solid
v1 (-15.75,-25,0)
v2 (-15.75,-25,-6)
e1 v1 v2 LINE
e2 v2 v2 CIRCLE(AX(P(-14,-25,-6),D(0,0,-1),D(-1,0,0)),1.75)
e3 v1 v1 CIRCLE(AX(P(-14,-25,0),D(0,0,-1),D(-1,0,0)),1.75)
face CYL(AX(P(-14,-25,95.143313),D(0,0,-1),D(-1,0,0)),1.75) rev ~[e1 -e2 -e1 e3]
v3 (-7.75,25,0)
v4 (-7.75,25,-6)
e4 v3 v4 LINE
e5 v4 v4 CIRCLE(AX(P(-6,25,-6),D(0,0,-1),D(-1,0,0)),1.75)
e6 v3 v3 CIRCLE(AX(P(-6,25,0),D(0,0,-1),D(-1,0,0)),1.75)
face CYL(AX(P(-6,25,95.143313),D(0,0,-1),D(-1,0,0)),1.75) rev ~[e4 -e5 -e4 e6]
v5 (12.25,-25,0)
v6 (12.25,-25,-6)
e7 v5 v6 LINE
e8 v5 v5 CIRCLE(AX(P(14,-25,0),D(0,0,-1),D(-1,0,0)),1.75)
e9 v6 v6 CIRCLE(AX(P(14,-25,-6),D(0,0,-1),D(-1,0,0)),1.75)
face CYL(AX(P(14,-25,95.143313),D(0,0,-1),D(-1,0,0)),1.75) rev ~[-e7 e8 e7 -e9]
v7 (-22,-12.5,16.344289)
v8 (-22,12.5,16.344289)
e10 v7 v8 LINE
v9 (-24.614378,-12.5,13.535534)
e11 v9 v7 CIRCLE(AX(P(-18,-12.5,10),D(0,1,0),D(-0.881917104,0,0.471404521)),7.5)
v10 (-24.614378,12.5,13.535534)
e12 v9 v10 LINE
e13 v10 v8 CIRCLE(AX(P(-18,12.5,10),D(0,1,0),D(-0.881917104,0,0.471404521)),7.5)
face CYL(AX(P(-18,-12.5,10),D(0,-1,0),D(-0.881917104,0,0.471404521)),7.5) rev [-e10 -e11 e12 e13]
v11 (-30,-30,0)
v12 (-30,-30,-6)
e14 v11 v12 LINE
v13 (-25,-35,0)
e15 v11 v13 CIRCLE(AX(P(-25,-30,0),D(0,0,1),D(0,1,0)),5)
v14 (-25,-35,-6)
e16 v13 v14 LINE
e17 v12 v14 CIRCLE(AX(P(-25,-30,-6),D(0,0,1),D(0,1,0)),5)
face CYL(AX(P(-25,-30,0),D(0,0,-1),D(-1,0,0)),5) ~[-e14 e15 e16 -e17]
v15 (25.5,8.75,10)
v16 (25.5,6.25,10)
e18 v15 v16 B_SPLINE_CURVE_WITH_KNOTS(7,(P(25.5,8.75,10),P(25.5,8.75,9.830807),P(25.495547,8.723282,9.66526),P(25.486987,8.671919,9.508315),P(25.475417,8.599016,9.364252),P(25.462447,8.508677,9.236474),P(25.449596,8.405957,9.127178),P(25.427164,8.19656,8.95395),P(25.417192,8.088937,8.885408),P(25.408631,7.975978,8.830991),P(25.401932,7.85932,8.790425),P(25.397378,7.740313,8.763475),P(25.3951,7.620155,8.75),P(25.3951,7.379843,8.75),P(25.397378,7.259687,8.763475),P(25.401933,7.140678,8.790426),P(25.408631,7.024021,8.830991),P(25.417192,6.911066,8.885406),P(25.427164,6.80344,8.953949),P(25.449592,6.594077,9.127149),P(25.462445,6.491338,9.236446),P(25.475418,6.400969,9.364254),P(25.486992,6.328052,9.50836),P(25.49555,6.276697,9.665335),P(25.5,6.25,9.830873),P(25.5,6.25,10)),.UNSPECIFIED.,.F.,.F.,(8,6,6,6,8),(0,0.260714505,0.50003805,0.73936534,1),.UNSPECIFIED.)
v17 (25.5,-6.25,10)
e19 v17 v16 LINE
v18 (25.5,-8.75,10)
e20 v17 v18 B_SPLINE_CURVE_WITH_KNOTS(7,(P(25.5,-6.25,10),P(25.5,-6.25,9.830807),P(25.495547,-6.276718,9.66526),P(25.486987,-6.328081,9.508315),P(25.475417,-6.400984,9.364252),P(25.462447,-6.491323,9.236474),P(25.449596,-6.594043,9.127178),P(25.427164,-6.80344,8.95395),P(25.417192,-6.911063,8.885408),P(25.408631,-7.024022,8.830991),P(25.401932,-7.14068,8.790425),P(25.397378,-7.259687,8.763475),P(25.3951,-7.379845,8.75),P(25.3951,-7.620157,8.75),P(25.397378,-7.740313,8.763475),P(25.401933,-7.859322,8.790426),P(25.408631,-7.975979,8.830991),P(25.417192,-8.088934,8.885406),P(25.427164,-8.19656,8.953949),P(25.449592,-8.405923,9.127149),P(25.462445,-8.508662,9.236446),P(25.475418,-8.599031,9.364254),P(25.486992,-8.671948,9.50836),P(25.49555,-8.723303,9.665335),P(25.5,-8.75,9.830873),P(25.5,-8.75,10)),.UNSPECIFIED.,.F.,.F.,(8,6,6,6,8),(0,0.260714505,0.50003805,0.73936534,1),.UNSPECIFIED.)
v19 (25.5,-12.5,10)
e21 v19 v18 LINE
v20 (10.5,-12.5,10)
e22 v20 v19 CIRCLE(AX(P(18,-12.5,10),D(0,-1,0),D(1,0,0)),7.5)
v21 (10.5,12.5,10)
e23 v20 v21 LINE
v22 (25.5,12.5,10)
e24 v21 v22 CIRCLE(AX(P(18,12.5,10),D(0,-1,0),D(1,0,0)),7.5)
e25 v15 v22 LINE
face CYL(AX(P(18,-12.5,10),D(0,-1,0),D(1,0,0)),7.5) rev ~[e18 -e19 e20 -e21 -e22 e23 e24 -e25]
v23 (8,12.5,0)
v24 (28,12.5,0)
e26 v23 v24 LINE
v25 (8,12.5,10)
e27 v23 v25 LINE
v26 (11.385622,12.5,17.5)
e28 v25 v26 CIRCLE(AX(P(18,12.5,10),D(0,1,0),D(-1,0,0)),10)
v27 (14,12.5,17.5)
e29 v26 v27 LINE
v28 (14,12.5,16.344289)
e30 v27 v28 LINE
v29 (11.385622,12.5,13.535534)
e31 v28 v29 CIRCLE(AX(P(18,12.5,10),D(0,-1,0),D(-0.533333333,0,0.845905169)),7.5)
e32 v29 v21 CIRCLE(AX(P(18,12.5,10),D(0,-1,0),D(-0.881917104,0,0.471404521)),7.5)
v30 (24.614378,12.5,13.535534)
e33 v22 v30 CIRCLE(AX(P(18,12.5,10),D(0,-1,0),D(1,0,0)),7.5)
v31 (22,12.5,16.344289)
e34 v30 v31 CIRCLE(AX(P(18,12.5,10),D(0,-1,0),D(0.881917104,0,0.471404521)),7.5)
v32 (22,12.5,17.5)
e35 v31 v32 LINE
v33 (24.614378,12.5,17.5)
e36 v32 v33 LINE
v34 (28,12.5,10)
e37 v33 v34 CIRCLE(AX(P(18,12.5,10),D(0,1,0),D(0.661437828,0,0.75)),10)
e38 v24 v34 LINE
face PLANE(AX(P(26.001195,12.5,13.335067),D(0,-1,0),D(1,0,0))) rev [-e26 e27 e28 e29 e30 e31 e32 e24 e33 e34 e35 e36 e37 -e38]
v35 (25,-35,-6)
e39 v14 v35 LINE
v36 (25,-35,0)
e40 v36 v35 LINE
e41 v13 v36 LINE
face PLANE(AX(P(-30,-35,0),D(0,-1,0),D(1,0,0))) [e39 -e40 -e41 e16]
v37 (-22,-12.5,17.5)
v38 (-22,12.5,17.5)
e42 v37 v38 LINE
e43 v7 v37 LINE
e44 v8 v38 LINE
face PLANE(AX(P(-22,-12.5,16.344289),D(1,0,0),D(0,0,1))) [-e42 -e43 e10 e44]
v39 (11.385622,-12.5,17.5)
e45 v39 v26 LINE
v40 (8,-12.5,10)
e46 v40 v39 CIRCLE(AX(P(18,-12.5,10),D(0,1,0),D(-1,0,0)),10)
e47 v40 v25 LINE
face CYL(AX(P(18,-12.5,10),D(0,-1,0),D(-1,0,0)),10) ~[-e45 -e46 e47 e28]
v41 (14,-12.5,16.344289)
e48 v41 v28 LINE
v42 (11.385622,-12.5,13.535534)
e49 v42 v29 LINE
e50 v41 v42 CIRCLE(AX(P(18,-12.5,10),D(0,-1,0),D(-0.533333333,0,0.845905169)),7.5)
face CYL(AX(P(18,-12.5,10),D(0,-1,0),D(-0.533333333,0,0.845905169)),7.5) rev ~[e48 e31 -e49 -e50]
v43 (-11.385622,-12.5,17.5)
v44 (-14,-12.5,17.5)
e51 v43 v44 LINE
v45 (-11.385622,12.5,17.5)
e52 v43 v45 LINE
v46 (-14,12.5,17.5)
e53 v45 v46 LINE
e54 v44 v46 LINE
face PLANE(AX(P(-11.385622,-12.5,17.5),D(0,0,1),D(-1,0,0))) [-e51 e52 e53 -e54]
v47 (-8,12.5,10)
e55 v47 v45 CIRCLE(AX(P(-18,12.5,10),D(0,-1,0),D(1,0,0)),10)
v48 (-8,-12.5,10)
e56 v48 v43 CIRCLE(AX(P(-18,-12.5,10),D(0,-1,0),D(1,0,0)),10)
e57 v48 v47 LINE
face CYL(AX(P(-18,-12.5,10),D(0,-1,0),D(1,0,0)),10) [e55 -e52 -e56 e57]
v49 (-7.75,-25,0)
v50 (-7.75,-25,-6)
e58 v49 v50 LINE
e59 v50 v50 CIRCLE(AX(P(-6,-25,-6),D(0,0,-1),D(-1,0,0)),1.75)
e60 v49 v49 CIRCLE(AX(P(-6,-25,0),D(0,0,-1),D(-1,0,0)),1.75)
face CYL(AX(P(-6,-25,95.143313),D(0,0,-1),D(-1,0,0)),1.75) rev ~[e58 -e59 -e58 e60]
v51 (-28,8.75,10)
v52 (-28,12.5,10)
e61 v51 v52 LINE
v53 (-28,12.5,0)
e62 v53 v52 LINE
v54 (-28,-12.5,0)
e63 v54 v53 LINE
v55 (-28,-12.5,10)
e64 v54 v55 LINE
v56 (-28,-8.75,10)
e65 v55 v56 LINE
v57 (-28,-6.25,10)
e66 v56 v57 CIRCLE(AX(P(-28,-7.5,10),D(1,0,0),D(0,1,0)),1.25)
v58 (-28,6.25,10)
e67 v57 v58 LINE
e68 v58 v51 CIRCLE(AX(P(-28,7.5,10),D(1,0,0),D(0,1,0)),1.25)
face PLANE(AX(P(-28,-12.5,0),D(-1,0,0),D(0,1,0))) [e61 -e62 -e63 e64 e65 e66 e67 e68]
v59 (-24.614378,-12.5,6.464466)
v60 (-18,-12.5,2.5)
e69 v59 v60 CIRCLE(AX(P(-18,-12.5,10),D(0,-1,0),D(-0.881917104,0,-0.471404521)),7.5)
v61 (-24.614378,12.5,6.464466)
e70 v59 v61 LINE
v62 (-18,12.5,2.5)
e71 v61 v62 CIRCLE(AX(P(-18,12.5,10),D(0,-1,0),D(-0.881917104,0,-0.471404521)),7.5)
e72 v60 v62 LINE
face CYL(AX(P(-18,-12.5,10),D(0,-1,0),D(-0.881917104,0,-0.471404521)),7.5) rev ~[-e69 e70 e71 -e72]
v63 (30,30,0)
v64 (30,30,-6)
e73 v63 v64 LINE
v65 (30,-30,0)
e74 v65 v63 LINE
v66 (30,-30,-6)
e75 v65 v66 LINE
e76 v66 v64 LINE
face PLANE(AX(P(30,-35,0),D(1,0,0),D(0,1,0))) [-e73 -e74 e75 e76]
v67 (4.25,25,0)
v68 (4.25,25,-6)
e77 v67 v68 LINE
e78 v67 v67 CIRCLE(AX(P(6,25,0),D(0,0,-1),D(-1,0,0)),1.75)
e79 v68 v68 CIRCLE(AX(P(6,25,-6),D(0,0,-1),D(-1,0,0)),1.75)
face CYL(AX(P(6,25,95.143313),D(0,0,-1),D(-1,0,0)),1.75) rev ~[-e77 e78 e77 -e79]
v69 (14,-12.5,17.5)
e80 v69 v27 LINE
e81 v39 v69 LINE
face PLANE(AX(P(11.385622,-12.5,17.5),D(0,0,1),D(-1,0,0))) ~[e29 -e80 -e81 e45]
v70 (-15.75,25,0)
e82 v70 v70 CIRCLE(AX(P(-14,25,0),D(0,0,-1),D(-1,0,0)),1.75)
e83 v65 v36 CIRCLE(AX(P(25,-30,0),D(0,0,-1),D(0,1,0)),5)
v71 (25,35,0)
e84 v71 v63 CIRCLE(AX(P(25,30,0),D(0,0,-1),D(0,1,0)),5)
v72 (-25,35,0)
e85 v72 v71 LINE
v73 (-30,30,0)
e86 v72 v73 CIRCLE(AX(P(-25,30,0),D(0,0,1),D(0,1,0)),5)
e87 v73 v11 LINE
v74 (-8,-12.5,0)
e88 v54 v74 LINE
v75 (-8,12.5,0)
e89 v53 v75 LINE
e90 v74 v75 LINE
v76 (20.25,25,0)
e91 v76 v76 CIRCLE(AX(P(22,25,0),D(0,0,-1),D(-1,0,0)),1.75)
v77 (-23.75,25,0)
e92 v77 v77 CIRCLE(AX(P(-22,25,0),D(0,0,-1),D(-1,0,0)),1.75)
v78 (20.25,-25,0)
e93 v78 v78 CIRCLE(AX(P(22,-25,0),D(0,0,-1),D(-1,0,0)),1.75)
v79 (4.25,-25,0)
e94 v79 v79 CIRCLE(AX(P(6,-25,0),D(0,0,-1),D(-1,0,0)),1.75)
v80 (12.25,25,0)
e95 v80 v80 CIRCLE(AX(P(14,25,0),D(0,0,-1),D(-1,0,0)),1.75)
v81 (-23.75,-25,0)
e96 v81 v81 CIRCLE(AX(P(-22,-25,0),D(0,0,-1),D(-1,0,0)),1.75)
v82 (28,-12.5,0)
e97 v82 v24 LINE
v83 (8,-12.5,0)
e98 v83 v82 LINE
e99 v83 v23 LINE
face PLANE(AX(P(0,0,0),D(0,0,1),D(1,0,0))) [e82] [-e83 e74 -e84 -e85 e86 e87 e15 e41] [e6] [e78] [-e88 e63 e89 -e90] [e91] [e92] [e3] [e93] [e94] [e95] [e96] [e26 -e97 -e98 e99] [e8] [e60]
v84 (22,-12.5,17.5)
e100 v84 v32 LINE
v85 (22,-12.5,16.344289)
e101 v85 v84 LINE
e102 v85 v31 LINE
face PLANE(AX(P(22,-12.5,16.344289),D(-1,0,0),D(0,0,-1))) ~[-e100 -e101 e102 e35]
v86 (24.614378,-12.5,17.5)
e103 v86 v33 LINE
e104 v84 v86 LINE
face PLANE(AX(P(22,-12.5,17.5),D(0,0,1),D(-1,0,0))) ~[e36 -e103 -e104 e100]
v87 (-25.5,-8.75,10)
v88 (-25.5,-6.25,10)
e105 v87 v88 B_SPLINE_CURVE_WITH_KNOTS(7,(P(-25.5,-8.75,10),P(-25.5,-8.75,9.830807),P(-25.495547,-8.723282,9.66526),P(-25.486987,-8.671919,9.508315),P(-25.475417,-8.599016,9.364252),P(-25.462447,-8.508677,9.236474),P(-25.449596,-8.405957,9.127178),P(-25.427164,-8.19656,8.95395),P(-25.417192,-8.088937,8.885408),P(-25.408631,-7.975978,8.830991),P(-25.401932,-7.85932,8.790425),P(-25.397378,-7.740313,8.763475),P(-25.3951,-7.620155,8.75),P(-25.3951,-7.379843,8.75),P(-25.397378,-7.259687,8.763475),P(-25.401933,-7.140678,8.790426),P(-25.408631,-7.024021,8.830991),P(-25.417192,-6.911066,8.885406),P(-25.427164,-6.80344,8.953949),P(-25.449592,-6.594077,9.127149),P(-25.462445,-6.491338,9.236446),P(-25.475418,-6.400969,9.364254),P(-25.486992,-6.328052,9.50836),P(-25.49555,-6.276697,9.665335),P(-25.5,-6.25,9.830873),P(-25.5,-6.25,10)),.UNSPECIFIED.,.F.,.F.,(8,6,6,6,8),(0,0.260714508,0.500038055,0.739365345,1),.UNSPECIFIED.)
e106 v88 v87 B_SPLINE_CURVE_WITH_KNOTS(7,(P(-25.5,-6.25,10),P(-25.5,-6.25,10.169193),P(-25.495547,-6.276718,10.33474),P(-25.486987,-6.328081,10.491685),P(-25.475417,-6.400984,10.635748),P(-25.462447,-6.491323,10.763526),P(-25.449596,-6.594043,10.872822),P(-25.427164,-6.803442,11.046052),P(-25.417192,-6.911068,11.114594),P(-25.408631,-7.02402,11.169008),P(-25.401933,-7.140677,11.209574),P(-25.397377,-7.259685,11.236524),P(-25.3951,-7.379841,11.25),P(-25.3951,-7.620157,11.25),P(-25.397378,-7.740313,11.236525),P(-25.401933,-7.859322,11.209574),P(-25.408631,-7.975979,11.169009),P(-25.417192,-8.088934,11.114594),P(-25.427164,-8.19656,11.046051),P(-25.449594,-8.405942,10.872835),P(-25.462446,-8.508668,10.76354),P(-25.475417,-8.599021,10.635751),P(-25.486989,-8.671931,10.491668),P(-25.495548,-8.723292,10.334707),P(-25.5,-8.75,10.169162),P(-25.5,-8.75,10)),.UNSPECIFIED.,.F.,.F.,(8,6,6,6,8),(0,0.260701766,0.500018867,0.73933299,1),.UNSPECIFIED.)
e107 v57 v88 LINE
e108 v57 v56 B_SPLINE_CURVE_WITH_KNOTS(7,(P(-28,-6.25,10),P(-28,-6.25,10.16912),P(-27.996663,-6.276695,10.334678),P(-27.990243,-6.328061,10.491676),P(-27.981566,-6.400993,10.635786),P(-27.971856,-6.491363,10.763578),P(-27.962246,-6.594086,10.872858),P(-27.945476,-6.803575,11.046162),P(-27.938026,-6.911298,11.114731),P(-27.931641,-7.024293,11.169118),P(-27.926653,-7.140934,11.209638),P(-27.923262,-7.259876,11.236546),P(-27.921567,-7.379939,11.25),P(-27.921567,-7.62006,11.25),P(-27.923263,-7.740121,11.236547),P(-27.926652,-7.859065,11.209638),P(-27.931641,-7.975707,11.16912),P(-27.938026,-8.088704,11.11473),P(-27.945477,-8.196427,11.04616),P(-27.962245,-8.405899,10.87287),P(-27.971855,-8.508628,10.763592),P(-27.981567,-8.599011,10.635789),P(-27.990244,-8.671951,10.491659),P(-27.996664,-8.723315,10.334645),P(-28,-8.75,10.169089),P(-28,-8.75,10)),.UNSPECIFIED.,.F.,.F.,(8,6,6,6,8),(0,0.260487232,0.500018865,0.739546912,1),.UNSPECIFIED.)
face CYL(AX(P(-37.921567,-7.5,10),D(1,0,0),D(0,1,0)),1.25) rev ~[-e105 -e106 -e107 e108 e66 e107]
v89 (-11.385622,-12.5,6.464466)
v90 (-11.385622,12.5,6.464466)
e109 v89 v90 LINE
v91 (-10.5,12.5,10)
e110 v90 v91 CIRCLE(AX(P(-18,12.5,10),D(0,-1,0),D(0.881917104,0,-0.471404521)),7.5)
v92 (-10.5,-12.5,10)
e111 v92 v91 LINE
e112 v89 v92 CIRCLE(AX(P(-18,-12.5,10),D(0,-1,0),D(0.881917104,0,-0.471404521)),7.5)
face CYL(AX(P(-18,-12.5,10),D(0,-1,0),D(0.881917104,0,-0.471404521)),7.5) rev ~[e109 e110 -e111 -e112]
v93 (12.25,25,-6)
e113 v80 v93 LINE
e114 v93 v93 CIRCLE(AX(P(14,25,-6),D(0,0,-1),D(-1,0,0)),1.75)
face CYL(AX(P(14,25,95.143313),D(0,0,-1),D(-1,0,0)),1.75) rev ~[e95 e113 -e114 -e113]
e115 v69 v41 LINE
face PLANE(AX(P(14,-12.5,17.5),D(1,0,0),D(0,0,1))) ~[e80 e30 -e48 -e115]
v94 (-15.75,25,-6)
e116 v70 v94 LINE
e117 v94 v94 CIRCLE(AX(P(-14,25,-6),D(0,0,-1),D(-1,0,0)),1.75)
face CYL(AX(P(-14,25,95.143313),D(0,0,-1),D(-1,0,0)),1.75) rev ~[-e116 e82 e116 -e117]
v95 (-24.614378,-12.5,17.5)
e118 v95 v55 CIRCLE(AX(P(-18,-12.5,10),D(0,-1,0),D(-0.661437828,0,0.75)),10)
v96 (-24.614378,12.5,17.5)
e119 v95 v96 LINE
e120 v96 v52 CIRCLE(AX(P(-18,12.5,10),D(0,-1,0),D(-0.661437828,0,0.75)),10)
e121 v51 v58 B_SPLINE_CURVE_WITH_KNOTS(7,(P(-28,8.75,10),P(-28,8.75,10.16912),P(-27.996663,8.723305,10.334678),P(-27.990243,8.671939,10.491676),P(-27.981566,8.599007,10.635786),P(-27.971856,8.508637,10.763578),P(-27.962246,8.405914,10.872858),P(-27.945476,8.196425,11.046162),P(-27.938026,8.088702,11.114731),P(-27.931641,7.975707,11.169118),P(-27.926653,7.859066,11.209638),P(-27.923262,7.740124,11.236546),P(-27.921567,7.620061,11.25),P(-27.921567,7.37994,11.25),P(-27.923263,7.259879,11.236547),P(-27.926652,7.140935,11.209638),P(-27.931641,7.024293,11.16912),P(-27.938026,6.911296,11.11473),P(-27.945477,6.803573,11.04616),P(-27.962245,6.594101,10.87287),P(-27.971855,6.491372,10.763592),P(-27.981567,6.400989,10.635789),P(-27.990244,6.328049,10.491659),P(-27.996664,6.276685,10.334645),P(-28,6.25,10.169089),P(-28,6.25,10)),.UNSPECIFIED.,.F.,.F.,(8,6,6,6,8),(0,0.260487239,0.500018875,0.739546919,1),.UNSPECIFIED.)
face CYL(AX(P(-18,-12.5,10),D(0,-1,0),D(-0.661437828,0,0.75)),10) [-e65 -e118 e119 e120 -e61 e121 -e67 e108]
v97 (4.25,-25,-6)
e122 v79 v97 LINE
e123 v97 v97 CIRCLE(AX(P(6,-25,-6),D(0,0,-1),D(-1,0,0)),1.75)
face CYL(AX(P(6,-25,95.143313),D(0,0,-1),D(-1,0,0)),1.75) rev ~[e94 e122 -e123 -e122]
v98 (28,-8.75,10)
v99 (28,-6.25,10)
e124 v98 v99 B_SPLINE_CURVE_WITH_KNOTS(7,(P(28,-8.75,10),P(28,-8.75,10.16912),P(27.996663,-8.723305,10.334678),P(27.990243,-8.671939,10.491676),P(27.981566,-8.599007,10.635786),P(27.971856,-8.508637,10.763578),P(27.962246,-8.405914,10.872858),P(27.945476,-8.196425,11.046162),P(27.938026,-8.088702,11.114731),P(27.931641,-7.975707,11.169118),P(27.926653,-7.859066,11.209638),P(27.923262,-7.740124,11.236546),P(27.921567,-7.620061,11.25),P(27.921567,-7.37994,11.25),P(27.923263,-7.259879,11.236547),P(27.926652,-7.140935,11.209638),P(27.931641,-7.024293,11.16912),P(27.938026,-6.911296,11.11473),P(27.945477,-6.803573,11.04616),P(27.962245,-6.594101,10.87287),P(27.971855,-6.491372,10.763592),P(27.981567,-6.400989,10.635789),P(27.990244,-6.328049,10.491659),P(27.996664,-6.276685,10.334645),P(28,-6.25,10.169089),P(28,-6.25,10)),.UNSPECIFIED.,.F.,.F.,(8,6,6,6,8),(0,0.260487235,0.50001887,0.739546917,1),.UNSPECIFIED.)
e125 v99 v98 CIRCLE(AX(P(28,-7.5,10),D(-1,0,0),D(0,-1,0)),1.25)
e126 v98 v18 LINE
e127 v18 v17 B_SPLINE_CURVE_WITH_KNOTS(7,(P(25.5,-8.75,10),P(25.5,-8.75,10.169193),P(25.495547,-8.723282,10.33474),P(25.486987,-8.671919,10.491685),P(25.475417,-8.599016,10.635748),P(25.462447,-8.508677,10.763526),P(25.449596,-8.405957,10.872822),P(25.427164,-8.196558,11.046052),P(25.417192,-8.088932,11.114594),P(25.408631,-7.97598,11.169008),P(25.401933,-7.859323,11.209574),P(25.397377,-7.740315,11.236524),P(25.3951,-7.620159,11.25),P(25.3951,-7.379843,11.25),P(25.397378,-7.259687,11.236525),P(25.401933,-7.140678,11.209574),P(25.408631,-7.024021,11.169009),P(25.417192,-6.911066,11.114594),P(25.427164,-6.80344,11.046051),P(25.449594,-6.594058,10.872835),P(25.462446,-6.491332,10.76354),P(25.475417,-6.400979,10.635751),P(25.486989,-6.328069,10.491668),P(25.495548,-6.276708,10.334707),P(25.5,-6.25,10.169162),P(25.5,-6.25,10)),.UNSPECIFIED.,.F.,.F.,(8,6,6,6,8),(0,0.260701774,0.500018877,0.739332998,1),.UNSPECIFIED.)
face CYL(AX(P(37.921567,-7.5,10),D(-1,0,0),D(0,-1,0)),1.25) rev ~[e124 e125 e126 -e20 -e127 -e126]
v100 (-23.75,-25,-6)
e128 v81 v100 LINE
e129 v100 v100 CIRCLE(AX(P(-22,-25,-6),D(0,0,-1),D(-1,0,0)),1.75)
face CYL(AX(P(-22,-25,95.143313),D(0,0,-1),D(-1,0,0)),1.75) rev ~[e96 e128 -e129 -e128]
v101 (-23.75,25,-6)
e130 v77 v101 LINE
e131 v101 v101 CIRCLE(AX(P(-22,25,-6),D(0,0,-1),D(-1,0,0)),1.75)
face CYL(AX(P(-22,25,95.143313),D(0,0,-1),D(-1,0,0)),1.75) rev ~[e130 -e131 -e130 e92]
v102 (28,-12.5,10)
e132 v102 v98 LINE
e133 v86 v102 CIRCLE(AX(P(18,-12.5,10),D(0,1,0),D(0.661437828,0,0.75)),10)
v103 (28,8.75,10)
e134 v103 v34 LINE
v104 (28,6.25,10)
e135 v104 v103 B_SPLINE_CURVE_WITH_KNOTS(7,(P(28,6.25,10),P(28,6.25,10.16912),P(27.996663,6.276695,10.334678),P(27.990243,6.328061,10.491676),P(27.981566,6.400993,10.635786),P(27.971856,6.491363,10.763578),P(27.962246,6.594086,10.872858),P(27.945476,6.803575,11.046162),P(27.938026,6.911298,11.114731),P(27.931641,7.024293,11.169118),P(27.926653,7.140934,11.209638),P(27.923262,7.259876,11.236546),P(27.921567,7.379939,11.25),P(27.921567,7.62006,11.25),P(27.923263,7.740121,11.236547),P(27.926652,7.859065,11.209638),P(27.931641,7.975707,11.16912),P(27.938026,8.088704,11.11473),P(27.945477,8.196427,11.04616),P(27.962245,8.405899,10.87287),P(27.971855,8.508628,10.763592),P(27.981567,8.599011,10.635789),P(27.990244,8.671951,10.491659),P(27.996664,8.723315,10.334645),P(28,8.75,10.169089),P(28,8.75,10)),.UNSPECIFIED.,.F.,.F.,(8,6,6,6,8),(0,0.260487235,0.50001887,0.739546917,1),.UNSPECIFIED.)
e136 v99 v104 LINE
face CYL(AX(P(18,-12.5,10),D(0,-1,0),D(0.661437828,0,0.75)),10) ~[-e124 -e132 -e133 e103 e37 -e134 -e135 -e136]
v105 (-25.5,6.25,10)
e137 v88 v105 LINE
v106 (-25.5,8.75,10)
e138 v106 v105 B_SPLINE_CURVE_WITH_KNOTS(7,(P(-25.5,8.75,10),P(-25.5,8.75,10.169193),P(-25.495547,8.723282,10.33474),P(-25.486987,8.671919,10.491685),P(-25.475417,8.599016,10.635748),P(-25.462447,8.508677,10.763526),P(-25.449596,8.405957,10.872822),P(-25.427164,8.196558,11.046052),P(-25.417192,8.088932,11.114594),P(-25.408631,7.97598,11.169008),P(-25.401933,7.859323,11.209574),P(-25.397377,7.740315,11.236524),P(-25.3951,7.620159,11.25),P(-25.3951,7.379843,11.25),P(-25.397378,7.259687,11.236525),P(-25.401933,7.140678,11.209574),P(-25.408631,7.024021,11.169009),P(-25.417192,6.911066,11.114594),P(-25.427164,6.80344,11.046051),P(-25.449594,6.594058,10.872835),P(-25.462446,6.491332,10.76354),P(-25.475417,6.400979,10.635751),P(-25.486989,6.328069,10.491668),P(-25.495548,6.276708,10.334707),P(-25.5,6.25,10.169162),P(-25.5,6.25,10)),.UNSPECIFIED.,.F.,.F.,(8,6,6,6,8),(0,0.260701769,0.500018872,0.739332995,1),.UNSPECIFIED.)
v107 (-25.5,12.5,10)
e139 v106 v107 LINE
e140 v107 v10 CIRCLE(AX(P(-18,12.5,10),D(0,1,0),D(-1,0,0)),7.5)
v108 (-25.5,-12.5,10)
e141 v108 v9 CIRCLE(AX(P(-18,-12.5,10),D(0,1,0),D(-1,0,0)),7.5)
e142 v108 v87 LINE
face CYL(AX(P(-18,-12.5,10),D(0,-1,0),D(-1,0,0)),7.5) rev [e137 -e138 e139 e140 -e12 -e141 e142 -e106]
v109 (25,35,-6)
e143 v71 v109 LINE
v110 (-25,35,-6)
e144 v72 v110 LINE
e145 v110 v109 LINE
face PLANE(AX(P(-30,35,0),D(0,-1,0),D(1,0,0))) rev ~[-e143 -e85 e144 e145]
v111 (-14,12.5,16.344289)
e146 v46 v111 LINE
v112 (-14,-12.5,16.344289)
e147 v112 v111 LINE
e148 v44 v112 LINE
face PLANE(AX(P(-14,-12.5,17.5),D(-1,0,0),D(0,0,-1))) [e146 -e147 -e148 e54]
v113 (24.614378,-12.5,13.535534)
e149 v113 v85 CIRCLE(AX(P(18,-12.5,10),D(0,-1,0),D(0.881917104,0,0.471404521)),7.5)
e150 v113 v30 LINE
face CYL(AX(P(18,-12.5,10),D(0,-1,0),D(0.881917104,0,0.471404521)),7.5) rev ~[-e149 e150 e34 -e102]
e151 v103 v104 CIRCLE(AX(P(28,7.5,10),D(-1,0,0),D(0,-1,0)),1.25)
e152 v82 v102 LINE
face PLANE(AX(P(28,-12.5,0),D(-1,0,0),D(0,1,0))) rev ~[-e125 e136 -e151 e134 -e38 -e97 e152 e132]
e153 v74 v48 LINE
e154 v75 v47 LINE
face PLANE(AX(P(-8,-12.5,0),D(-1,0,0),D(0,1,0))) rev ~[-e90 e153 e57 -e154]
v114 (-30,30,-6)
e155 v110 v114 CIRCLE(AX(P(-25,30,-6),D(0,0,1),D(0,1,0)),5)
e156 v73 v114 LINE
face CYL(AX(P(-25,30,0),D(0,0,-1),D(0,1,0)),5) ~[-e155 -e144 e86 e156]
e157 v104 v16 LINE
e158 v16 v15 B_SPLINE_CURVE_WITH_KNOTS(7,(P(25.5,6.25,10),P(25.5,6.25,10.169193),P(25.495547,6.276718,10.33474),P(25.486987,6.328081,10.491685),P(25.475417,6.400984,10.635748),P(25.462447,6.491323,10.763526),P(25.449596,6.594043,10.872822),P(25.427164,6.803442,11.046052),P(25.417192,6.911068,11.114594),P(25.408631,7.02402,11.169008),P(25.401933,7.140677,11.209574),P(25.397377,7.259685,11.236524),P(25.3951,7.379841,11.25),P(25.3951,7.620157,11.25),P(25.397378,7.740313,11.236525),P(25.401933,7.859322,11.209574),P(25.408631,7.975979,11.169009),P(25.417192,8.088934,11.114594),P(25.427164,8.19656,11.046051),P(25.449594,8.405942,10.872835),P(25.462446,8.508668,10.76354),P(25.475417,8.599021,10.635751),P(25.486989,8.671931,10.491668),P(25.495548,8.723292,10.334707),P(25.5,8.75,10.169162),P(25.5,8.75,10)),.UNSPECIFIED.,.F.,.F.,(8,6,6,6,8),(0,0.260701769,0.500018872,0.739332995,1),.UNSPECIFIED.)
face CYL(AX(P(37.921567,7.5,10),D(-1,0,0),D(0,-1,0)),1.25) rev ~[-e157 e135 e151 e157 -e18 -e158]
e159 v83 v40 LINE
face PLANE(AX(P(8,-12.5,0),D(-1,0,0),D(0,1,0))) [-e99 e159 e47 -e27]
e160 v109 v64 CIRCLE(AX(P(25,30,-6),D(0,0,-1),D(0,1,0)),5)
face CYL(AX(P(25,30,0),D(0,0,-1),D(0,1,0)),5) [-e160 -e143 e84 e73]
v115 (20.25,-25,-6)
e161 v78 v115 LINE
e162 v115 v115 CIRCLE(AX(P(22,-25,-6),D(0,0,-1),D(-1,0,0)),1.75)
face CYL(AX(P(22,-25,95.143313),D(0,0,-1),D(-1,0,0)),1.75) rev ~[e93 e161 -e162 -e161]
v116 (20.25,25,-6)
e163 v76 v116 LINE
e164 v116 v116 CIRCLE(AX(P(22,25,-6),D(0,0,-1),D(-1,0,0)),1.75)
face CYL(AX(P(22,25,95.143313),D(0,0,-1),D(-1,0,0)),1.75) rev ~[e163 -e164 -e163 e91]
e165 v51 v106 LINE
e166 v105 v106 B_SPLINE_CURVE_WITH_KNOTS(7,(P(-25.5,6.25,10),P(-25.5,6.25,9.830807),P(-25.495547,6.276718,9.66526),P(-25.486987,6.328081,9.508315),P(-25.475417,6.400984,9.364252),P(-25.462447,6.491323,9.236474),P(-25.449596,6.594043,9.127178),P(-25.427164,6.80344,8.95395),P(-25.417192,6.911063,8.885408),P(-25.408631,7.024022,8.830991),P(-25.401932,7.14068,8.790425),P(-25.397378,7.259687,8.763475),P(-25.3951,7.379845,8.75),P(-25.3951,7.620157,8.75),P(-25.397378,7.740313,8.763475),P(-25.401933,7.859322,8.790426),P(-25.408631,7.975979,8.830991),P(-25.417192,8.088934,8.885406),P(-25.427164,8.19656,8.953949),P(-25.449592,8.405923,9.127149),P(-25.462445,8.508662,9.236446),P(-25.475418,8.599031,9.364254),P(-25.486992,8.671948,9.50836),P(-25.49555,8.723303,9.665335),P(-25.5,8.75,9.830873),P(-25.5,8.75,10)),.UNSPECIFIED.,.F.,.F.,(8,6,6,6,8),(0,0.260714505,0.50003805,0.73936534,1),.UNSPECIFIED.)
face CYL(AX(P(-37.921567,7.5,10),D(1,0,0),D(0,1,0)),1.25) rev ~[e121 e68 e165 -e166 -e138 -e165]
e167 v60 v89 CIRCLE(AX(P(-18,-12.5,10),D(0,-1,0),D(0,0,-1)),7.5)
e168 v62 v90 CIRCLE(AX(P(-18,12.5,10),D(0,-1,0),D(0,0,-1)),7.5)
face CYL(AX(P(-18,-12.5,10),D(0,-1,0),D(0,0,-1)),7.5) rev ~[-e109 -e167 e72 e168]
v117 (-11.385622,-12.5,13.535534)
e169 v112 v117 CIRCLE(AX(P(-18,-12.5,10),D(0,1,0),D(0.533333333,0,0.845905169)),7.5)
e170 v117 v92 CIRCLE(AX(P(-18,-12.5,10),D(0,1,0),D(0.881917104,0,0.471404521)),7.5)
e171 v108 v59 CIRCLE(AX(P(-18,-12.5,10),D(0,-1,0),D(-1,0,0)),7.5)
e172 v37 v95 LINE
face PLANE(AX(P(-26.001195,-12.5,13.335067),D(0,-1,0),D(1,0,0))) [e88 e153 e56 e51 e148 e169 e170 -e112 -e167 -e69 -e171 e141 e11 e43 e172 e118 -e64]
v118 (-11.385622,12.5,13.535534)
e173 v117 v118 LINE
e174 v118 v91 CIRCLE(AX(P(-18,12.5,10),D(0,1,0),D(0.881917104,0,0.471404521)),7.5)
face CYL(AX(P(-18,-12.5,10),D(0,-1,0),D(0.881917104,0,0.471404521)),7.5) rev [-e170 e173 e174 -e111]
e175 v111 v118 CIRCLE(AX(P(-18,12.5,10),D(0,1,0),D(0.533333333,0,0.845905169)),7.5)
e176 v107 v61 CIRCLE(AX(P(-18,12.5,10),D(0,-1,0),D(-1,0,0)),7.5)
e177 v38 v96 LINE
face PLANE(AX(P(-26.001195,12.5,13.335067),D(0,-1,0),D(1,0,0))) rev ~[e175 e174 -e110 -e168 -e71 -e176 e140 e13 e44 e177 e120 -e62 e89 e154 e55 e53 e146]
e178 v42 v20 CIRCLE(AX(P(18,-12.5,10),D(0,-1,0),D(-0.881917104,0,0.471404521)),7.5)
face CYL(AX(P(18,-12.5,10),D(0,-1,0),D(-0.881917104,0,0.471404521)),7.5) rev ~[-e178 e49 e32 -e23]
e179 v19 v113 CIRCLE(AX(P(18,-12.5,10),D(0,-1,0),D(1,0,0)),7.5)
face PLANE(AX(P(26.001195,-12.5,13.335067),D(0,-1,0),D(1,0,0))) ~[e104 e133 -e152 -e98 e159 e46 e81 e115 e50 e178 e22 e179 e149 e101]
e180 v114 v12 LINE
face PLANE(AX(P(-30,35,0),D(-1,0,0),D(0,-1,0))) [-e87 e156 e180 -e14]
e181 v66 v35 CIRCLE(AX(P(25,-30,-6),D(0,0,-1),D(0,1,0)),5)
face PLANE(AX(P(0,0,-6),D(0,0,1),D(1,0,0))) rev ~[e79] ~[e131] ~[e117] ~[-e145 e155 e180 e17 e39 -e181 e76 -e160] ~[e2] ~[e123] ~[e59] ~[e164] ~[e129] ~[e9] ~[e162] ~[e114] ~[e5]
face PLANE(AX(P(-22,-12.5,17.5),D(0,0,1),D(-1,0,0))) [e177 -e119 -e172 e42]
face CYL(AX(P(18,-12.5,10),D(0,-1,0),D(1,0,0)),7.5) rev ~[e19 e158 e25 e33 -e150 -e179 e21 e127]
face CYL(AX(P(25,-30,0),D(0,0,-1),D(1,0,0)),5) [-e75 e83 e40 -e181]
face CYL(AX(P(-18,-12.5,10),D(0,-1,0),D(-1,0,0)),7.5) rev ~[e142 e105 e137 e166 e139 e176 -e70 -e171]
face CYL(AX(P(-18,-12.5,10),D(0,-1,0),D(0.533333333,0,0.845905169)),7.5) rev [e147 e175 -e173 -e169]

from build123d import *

# Parameters (mm, degrees)
F0_W      = 60
F0_H      = 50
F0_W_2    = 20
F0_H_2    = 25
F0_H_3    = 10
F1_DEPTH  = 6
F2_DEPTH  = 10
F4_DEPTH  = 25
F5_D      = 15
F8_DEPTH  = 25
F3_R      = 7.5
F9_DEPTH  = 25
F10_R     = 5
F12_D     = 2.5
F12_DEPTH = 10
F12_START = 0.0784327
F12_TIP   = 0.7510757738
F14_D     = 2.5
F14_DEPTH = 10
F14_START = 0.0784327
F14_TIP   = 0.7510757738
F15_D     = 3.5


with BuildPart() as f1:
    # F0 (on Top) → F1 (new body)
    with BuildSketch(Plane.XY):
        Rectangle(F0_W, F0_H)
        with Locations((-18, 0)):
            Rectangle(F0_W_2, F0_H_2, mode=Mode.SUBTRACT)
        with Locations((18, 0)):
            Rectangle(F0_W_2, F0_H_2, mode=Mode.SUBTRACT)
        with Locations((0, 30)):
            Rectangle(F0_W, F0_H_3)
        with Locations((0, -30)):
            Rectangle(F0_W, F0_H_3)
        with Locations((-18, 0)):
            Rectangle(F0_W_2, F0_H_2)
        with Locations((18, 0)):
            Rectangle(F0_W_2, F0_H_2)
    extrude(amount=-F1_DEPTH)

    # F0 (on Top) → F2 (join)
    with BuildSketch(Plane.XY):
        with Locations((-18, 0)):
            Rectangle(F0_W_2, F0_H_2)
        with Locations((18, 0)):
            Rectangle(F0_W_2, F0_H_2)
    extrude(amount=F2_DEPTH)

    # F5 (through all)
    with Locations(Plane.XZ.offset(12.5)):
        with Locations((-18, 10)):
            Hole(F5_D / 2)


with BuildPart() as f4:
    # F3 (on face) → F4 (new body)
    with BuildSketch(Plane.XZ.offset(12.5)):
        with BuildLine():
            Line((-24.6143782777, 13.5355339059), (-24.6143782777, 17.5))
            ThreePointArc((-24.6143782777, 17.5), (-27.1143782777, 14.1143782777), (-28, 10))
            Line((-28, 10), (-25.5, 10))
            ThreePointArc((-25.5, 10), (-25.2752263567, 11.8223834555), (-24.6143782777, 13.5355339059))
        make_face()
        with BuildLine():
            Line((-22, 17.5), (-24.6143782777, 17.5))
            Line((-24.6143782777, 17.5), (-24.6143782777, 13.5355339059))
            ThreePointArc((-24.6143782777, 13.5355339059), (-23.4898572411, 15.1099381085), (-22, 16.3442887702))
            Line((-22, 16.3442887702), (-22, 17.5))
        make_face()
    extrude(amount=-F4_DEPTH)


with BuildPart() as f4b:
    # F3 (on face) → F4, piece 2 (new body)
    with BuildSketch(Plane.XZ.offset(12.5)):
        with BuildLine():
            Line((-11.3856217223, 13.5355339059), (-11.3856217223, 17.5))
            Line((-11.3856217223, 17.5), (-14, 17.5))
            Line((-14, 17.5), (-14, 16.3442887702))
            ThreePointArc((-14, 16.3442887702), (-12.5101427589, 15.1099381085), (-11.3856217223, 13.5355339059))
        make_face()
        with BuildLine():
            Line((-10.5, 10), (-8, 10))
            ThreePointArc((-8, 10), (-8.8856217223, 14.1143782777), (-11.3856217223, 17.5))
            Line((-11.3856217223, 17.5), (-11.3856217223, 13.5355339059))
            ThreePointArc((-11.3856217223, 13.5355339059), (-10.7247736433, 11.8223834555), (-10.5, 10))
        make_face()
    extrude(amount=-F4_DEPTH)


with BuildPart() as f1_1:
    add(f1.part)

    # F6: union F4b, F4
    add(f4b.part)
    add(f4.part)

    # F7: F1 across plane


with BuildPart() as f1_2:
    add(f1_1.part)
    add(f1_1.part.mirror(Plane.YZ))

    # F3 (on face) → F8 (cut)
    with BuildSketch(Plane.XZ.offset(12.5)):
        with BuildLine():
            ThreePointArc((-24.6143782777, 6.4644660941), (-21.8557421922, 3.5670184092), (-18, 2.5))
            ThreePointArc((-18, 2.5), (-14.1442578078, 3.5670184092), (-11.3856217223, 6.4644660941))
            Line((-11.3856217223, 6.4644660941), (-11.3856217223, 10))
            Line((-11.3856217223, 10), (-24.6143782777, 10))
            Line((-24.6143782777, 10), (-24.6143782777, 6.4644660941))
        make_face()
        with BuildLine():
            ThreePointArc((-25.5, 10), (-25.2752263567, 8.1776165445), (-24.6143782777, 6.4644660941))
            Line((-24.6143782777, 6.4644660941), (-24.6143782777, 10))
            Line((-24.6143782777, 10), (-25.5, 10))
        make_face()
        with BuildLine():
            ThreePointArc((-11.3856217223, 6.4644660941), (-10.7247736433, 8.1776165445), (-10.5, 10))
            Line((-10.5, 10), (-11.3856217223, 10))
            Line((-11.3856217223, 10), (-11.3856217223, 6.4644660941))
        make_face()
    extrude(amount=-F8_DEPTH, mode=Mode.SUBTRACT)

    # F3 (on face) → F9 (cut)
    with BuildSketch(Plane.XZ.offset(12.5)):
        with Locations((18, 10)):
            Circle(F3_R)
    extrude(amount=-F9_DEPTH, mode=Mode.SUBTRACT)

    # F10
    f10_edges = [f1_2.edges().sort_by_distance(p)[0] for p in [
        (-30, -35, -3),
        (30, -35, -3),
        (30, 35, -3),
        (-30, 35, -3),
    ]]
    fillet(f10_edges, radius=F10_R)

    # F12
    # its depths count from where the whole tool has entered the part; down to there all is cleared
    with Locations(Plane.YZ.offset(28).offset(-F12_START)):
        with Locations((-7.5, 10), (7.5, 10)):
            Hole(F12_D / 2, depth=F12_DEPTH)
            with Locations((0, 0, -(F12_DEPTH + F12_TIP / 2))):  # 118° drill point
                Cone(0, F12_D / 2, F12_TIP, mode=Mode.SUBTRACT)

    # F14
    # its depths count from where the whole tool has entered the part; down to there all is cleared
    with Locations(Plane(origin=(-28, 0, 0), x_dir=(0, -1, 0), z_dir=(-1, 0, 0)).offset(-F14_START)):
        with Locations((-7.5, 10), (7.5, 10)):
            Hole(F14_D / 2, depth=F14_DEPTH)
            with Locations((0, 0, -(F14_DEPTH + F14_TIP / 2))):  # 118° drill point
                Cone(0, F14_D / 2, F14_TIP, mode=Mode.SUBTRACT)

    # F15 (through all)
    with Locations(Plane.XY):
        with Locations((-22, -25), (-14, -25), (-6, -25), (6, -25), (14, -25), (22, -25), (-22, 25), (-14, 25), (-6, 25), (6, 25), (14, 25), (22, 25)):
            Hole(F15_D / 2)


solid = f1_2.part
